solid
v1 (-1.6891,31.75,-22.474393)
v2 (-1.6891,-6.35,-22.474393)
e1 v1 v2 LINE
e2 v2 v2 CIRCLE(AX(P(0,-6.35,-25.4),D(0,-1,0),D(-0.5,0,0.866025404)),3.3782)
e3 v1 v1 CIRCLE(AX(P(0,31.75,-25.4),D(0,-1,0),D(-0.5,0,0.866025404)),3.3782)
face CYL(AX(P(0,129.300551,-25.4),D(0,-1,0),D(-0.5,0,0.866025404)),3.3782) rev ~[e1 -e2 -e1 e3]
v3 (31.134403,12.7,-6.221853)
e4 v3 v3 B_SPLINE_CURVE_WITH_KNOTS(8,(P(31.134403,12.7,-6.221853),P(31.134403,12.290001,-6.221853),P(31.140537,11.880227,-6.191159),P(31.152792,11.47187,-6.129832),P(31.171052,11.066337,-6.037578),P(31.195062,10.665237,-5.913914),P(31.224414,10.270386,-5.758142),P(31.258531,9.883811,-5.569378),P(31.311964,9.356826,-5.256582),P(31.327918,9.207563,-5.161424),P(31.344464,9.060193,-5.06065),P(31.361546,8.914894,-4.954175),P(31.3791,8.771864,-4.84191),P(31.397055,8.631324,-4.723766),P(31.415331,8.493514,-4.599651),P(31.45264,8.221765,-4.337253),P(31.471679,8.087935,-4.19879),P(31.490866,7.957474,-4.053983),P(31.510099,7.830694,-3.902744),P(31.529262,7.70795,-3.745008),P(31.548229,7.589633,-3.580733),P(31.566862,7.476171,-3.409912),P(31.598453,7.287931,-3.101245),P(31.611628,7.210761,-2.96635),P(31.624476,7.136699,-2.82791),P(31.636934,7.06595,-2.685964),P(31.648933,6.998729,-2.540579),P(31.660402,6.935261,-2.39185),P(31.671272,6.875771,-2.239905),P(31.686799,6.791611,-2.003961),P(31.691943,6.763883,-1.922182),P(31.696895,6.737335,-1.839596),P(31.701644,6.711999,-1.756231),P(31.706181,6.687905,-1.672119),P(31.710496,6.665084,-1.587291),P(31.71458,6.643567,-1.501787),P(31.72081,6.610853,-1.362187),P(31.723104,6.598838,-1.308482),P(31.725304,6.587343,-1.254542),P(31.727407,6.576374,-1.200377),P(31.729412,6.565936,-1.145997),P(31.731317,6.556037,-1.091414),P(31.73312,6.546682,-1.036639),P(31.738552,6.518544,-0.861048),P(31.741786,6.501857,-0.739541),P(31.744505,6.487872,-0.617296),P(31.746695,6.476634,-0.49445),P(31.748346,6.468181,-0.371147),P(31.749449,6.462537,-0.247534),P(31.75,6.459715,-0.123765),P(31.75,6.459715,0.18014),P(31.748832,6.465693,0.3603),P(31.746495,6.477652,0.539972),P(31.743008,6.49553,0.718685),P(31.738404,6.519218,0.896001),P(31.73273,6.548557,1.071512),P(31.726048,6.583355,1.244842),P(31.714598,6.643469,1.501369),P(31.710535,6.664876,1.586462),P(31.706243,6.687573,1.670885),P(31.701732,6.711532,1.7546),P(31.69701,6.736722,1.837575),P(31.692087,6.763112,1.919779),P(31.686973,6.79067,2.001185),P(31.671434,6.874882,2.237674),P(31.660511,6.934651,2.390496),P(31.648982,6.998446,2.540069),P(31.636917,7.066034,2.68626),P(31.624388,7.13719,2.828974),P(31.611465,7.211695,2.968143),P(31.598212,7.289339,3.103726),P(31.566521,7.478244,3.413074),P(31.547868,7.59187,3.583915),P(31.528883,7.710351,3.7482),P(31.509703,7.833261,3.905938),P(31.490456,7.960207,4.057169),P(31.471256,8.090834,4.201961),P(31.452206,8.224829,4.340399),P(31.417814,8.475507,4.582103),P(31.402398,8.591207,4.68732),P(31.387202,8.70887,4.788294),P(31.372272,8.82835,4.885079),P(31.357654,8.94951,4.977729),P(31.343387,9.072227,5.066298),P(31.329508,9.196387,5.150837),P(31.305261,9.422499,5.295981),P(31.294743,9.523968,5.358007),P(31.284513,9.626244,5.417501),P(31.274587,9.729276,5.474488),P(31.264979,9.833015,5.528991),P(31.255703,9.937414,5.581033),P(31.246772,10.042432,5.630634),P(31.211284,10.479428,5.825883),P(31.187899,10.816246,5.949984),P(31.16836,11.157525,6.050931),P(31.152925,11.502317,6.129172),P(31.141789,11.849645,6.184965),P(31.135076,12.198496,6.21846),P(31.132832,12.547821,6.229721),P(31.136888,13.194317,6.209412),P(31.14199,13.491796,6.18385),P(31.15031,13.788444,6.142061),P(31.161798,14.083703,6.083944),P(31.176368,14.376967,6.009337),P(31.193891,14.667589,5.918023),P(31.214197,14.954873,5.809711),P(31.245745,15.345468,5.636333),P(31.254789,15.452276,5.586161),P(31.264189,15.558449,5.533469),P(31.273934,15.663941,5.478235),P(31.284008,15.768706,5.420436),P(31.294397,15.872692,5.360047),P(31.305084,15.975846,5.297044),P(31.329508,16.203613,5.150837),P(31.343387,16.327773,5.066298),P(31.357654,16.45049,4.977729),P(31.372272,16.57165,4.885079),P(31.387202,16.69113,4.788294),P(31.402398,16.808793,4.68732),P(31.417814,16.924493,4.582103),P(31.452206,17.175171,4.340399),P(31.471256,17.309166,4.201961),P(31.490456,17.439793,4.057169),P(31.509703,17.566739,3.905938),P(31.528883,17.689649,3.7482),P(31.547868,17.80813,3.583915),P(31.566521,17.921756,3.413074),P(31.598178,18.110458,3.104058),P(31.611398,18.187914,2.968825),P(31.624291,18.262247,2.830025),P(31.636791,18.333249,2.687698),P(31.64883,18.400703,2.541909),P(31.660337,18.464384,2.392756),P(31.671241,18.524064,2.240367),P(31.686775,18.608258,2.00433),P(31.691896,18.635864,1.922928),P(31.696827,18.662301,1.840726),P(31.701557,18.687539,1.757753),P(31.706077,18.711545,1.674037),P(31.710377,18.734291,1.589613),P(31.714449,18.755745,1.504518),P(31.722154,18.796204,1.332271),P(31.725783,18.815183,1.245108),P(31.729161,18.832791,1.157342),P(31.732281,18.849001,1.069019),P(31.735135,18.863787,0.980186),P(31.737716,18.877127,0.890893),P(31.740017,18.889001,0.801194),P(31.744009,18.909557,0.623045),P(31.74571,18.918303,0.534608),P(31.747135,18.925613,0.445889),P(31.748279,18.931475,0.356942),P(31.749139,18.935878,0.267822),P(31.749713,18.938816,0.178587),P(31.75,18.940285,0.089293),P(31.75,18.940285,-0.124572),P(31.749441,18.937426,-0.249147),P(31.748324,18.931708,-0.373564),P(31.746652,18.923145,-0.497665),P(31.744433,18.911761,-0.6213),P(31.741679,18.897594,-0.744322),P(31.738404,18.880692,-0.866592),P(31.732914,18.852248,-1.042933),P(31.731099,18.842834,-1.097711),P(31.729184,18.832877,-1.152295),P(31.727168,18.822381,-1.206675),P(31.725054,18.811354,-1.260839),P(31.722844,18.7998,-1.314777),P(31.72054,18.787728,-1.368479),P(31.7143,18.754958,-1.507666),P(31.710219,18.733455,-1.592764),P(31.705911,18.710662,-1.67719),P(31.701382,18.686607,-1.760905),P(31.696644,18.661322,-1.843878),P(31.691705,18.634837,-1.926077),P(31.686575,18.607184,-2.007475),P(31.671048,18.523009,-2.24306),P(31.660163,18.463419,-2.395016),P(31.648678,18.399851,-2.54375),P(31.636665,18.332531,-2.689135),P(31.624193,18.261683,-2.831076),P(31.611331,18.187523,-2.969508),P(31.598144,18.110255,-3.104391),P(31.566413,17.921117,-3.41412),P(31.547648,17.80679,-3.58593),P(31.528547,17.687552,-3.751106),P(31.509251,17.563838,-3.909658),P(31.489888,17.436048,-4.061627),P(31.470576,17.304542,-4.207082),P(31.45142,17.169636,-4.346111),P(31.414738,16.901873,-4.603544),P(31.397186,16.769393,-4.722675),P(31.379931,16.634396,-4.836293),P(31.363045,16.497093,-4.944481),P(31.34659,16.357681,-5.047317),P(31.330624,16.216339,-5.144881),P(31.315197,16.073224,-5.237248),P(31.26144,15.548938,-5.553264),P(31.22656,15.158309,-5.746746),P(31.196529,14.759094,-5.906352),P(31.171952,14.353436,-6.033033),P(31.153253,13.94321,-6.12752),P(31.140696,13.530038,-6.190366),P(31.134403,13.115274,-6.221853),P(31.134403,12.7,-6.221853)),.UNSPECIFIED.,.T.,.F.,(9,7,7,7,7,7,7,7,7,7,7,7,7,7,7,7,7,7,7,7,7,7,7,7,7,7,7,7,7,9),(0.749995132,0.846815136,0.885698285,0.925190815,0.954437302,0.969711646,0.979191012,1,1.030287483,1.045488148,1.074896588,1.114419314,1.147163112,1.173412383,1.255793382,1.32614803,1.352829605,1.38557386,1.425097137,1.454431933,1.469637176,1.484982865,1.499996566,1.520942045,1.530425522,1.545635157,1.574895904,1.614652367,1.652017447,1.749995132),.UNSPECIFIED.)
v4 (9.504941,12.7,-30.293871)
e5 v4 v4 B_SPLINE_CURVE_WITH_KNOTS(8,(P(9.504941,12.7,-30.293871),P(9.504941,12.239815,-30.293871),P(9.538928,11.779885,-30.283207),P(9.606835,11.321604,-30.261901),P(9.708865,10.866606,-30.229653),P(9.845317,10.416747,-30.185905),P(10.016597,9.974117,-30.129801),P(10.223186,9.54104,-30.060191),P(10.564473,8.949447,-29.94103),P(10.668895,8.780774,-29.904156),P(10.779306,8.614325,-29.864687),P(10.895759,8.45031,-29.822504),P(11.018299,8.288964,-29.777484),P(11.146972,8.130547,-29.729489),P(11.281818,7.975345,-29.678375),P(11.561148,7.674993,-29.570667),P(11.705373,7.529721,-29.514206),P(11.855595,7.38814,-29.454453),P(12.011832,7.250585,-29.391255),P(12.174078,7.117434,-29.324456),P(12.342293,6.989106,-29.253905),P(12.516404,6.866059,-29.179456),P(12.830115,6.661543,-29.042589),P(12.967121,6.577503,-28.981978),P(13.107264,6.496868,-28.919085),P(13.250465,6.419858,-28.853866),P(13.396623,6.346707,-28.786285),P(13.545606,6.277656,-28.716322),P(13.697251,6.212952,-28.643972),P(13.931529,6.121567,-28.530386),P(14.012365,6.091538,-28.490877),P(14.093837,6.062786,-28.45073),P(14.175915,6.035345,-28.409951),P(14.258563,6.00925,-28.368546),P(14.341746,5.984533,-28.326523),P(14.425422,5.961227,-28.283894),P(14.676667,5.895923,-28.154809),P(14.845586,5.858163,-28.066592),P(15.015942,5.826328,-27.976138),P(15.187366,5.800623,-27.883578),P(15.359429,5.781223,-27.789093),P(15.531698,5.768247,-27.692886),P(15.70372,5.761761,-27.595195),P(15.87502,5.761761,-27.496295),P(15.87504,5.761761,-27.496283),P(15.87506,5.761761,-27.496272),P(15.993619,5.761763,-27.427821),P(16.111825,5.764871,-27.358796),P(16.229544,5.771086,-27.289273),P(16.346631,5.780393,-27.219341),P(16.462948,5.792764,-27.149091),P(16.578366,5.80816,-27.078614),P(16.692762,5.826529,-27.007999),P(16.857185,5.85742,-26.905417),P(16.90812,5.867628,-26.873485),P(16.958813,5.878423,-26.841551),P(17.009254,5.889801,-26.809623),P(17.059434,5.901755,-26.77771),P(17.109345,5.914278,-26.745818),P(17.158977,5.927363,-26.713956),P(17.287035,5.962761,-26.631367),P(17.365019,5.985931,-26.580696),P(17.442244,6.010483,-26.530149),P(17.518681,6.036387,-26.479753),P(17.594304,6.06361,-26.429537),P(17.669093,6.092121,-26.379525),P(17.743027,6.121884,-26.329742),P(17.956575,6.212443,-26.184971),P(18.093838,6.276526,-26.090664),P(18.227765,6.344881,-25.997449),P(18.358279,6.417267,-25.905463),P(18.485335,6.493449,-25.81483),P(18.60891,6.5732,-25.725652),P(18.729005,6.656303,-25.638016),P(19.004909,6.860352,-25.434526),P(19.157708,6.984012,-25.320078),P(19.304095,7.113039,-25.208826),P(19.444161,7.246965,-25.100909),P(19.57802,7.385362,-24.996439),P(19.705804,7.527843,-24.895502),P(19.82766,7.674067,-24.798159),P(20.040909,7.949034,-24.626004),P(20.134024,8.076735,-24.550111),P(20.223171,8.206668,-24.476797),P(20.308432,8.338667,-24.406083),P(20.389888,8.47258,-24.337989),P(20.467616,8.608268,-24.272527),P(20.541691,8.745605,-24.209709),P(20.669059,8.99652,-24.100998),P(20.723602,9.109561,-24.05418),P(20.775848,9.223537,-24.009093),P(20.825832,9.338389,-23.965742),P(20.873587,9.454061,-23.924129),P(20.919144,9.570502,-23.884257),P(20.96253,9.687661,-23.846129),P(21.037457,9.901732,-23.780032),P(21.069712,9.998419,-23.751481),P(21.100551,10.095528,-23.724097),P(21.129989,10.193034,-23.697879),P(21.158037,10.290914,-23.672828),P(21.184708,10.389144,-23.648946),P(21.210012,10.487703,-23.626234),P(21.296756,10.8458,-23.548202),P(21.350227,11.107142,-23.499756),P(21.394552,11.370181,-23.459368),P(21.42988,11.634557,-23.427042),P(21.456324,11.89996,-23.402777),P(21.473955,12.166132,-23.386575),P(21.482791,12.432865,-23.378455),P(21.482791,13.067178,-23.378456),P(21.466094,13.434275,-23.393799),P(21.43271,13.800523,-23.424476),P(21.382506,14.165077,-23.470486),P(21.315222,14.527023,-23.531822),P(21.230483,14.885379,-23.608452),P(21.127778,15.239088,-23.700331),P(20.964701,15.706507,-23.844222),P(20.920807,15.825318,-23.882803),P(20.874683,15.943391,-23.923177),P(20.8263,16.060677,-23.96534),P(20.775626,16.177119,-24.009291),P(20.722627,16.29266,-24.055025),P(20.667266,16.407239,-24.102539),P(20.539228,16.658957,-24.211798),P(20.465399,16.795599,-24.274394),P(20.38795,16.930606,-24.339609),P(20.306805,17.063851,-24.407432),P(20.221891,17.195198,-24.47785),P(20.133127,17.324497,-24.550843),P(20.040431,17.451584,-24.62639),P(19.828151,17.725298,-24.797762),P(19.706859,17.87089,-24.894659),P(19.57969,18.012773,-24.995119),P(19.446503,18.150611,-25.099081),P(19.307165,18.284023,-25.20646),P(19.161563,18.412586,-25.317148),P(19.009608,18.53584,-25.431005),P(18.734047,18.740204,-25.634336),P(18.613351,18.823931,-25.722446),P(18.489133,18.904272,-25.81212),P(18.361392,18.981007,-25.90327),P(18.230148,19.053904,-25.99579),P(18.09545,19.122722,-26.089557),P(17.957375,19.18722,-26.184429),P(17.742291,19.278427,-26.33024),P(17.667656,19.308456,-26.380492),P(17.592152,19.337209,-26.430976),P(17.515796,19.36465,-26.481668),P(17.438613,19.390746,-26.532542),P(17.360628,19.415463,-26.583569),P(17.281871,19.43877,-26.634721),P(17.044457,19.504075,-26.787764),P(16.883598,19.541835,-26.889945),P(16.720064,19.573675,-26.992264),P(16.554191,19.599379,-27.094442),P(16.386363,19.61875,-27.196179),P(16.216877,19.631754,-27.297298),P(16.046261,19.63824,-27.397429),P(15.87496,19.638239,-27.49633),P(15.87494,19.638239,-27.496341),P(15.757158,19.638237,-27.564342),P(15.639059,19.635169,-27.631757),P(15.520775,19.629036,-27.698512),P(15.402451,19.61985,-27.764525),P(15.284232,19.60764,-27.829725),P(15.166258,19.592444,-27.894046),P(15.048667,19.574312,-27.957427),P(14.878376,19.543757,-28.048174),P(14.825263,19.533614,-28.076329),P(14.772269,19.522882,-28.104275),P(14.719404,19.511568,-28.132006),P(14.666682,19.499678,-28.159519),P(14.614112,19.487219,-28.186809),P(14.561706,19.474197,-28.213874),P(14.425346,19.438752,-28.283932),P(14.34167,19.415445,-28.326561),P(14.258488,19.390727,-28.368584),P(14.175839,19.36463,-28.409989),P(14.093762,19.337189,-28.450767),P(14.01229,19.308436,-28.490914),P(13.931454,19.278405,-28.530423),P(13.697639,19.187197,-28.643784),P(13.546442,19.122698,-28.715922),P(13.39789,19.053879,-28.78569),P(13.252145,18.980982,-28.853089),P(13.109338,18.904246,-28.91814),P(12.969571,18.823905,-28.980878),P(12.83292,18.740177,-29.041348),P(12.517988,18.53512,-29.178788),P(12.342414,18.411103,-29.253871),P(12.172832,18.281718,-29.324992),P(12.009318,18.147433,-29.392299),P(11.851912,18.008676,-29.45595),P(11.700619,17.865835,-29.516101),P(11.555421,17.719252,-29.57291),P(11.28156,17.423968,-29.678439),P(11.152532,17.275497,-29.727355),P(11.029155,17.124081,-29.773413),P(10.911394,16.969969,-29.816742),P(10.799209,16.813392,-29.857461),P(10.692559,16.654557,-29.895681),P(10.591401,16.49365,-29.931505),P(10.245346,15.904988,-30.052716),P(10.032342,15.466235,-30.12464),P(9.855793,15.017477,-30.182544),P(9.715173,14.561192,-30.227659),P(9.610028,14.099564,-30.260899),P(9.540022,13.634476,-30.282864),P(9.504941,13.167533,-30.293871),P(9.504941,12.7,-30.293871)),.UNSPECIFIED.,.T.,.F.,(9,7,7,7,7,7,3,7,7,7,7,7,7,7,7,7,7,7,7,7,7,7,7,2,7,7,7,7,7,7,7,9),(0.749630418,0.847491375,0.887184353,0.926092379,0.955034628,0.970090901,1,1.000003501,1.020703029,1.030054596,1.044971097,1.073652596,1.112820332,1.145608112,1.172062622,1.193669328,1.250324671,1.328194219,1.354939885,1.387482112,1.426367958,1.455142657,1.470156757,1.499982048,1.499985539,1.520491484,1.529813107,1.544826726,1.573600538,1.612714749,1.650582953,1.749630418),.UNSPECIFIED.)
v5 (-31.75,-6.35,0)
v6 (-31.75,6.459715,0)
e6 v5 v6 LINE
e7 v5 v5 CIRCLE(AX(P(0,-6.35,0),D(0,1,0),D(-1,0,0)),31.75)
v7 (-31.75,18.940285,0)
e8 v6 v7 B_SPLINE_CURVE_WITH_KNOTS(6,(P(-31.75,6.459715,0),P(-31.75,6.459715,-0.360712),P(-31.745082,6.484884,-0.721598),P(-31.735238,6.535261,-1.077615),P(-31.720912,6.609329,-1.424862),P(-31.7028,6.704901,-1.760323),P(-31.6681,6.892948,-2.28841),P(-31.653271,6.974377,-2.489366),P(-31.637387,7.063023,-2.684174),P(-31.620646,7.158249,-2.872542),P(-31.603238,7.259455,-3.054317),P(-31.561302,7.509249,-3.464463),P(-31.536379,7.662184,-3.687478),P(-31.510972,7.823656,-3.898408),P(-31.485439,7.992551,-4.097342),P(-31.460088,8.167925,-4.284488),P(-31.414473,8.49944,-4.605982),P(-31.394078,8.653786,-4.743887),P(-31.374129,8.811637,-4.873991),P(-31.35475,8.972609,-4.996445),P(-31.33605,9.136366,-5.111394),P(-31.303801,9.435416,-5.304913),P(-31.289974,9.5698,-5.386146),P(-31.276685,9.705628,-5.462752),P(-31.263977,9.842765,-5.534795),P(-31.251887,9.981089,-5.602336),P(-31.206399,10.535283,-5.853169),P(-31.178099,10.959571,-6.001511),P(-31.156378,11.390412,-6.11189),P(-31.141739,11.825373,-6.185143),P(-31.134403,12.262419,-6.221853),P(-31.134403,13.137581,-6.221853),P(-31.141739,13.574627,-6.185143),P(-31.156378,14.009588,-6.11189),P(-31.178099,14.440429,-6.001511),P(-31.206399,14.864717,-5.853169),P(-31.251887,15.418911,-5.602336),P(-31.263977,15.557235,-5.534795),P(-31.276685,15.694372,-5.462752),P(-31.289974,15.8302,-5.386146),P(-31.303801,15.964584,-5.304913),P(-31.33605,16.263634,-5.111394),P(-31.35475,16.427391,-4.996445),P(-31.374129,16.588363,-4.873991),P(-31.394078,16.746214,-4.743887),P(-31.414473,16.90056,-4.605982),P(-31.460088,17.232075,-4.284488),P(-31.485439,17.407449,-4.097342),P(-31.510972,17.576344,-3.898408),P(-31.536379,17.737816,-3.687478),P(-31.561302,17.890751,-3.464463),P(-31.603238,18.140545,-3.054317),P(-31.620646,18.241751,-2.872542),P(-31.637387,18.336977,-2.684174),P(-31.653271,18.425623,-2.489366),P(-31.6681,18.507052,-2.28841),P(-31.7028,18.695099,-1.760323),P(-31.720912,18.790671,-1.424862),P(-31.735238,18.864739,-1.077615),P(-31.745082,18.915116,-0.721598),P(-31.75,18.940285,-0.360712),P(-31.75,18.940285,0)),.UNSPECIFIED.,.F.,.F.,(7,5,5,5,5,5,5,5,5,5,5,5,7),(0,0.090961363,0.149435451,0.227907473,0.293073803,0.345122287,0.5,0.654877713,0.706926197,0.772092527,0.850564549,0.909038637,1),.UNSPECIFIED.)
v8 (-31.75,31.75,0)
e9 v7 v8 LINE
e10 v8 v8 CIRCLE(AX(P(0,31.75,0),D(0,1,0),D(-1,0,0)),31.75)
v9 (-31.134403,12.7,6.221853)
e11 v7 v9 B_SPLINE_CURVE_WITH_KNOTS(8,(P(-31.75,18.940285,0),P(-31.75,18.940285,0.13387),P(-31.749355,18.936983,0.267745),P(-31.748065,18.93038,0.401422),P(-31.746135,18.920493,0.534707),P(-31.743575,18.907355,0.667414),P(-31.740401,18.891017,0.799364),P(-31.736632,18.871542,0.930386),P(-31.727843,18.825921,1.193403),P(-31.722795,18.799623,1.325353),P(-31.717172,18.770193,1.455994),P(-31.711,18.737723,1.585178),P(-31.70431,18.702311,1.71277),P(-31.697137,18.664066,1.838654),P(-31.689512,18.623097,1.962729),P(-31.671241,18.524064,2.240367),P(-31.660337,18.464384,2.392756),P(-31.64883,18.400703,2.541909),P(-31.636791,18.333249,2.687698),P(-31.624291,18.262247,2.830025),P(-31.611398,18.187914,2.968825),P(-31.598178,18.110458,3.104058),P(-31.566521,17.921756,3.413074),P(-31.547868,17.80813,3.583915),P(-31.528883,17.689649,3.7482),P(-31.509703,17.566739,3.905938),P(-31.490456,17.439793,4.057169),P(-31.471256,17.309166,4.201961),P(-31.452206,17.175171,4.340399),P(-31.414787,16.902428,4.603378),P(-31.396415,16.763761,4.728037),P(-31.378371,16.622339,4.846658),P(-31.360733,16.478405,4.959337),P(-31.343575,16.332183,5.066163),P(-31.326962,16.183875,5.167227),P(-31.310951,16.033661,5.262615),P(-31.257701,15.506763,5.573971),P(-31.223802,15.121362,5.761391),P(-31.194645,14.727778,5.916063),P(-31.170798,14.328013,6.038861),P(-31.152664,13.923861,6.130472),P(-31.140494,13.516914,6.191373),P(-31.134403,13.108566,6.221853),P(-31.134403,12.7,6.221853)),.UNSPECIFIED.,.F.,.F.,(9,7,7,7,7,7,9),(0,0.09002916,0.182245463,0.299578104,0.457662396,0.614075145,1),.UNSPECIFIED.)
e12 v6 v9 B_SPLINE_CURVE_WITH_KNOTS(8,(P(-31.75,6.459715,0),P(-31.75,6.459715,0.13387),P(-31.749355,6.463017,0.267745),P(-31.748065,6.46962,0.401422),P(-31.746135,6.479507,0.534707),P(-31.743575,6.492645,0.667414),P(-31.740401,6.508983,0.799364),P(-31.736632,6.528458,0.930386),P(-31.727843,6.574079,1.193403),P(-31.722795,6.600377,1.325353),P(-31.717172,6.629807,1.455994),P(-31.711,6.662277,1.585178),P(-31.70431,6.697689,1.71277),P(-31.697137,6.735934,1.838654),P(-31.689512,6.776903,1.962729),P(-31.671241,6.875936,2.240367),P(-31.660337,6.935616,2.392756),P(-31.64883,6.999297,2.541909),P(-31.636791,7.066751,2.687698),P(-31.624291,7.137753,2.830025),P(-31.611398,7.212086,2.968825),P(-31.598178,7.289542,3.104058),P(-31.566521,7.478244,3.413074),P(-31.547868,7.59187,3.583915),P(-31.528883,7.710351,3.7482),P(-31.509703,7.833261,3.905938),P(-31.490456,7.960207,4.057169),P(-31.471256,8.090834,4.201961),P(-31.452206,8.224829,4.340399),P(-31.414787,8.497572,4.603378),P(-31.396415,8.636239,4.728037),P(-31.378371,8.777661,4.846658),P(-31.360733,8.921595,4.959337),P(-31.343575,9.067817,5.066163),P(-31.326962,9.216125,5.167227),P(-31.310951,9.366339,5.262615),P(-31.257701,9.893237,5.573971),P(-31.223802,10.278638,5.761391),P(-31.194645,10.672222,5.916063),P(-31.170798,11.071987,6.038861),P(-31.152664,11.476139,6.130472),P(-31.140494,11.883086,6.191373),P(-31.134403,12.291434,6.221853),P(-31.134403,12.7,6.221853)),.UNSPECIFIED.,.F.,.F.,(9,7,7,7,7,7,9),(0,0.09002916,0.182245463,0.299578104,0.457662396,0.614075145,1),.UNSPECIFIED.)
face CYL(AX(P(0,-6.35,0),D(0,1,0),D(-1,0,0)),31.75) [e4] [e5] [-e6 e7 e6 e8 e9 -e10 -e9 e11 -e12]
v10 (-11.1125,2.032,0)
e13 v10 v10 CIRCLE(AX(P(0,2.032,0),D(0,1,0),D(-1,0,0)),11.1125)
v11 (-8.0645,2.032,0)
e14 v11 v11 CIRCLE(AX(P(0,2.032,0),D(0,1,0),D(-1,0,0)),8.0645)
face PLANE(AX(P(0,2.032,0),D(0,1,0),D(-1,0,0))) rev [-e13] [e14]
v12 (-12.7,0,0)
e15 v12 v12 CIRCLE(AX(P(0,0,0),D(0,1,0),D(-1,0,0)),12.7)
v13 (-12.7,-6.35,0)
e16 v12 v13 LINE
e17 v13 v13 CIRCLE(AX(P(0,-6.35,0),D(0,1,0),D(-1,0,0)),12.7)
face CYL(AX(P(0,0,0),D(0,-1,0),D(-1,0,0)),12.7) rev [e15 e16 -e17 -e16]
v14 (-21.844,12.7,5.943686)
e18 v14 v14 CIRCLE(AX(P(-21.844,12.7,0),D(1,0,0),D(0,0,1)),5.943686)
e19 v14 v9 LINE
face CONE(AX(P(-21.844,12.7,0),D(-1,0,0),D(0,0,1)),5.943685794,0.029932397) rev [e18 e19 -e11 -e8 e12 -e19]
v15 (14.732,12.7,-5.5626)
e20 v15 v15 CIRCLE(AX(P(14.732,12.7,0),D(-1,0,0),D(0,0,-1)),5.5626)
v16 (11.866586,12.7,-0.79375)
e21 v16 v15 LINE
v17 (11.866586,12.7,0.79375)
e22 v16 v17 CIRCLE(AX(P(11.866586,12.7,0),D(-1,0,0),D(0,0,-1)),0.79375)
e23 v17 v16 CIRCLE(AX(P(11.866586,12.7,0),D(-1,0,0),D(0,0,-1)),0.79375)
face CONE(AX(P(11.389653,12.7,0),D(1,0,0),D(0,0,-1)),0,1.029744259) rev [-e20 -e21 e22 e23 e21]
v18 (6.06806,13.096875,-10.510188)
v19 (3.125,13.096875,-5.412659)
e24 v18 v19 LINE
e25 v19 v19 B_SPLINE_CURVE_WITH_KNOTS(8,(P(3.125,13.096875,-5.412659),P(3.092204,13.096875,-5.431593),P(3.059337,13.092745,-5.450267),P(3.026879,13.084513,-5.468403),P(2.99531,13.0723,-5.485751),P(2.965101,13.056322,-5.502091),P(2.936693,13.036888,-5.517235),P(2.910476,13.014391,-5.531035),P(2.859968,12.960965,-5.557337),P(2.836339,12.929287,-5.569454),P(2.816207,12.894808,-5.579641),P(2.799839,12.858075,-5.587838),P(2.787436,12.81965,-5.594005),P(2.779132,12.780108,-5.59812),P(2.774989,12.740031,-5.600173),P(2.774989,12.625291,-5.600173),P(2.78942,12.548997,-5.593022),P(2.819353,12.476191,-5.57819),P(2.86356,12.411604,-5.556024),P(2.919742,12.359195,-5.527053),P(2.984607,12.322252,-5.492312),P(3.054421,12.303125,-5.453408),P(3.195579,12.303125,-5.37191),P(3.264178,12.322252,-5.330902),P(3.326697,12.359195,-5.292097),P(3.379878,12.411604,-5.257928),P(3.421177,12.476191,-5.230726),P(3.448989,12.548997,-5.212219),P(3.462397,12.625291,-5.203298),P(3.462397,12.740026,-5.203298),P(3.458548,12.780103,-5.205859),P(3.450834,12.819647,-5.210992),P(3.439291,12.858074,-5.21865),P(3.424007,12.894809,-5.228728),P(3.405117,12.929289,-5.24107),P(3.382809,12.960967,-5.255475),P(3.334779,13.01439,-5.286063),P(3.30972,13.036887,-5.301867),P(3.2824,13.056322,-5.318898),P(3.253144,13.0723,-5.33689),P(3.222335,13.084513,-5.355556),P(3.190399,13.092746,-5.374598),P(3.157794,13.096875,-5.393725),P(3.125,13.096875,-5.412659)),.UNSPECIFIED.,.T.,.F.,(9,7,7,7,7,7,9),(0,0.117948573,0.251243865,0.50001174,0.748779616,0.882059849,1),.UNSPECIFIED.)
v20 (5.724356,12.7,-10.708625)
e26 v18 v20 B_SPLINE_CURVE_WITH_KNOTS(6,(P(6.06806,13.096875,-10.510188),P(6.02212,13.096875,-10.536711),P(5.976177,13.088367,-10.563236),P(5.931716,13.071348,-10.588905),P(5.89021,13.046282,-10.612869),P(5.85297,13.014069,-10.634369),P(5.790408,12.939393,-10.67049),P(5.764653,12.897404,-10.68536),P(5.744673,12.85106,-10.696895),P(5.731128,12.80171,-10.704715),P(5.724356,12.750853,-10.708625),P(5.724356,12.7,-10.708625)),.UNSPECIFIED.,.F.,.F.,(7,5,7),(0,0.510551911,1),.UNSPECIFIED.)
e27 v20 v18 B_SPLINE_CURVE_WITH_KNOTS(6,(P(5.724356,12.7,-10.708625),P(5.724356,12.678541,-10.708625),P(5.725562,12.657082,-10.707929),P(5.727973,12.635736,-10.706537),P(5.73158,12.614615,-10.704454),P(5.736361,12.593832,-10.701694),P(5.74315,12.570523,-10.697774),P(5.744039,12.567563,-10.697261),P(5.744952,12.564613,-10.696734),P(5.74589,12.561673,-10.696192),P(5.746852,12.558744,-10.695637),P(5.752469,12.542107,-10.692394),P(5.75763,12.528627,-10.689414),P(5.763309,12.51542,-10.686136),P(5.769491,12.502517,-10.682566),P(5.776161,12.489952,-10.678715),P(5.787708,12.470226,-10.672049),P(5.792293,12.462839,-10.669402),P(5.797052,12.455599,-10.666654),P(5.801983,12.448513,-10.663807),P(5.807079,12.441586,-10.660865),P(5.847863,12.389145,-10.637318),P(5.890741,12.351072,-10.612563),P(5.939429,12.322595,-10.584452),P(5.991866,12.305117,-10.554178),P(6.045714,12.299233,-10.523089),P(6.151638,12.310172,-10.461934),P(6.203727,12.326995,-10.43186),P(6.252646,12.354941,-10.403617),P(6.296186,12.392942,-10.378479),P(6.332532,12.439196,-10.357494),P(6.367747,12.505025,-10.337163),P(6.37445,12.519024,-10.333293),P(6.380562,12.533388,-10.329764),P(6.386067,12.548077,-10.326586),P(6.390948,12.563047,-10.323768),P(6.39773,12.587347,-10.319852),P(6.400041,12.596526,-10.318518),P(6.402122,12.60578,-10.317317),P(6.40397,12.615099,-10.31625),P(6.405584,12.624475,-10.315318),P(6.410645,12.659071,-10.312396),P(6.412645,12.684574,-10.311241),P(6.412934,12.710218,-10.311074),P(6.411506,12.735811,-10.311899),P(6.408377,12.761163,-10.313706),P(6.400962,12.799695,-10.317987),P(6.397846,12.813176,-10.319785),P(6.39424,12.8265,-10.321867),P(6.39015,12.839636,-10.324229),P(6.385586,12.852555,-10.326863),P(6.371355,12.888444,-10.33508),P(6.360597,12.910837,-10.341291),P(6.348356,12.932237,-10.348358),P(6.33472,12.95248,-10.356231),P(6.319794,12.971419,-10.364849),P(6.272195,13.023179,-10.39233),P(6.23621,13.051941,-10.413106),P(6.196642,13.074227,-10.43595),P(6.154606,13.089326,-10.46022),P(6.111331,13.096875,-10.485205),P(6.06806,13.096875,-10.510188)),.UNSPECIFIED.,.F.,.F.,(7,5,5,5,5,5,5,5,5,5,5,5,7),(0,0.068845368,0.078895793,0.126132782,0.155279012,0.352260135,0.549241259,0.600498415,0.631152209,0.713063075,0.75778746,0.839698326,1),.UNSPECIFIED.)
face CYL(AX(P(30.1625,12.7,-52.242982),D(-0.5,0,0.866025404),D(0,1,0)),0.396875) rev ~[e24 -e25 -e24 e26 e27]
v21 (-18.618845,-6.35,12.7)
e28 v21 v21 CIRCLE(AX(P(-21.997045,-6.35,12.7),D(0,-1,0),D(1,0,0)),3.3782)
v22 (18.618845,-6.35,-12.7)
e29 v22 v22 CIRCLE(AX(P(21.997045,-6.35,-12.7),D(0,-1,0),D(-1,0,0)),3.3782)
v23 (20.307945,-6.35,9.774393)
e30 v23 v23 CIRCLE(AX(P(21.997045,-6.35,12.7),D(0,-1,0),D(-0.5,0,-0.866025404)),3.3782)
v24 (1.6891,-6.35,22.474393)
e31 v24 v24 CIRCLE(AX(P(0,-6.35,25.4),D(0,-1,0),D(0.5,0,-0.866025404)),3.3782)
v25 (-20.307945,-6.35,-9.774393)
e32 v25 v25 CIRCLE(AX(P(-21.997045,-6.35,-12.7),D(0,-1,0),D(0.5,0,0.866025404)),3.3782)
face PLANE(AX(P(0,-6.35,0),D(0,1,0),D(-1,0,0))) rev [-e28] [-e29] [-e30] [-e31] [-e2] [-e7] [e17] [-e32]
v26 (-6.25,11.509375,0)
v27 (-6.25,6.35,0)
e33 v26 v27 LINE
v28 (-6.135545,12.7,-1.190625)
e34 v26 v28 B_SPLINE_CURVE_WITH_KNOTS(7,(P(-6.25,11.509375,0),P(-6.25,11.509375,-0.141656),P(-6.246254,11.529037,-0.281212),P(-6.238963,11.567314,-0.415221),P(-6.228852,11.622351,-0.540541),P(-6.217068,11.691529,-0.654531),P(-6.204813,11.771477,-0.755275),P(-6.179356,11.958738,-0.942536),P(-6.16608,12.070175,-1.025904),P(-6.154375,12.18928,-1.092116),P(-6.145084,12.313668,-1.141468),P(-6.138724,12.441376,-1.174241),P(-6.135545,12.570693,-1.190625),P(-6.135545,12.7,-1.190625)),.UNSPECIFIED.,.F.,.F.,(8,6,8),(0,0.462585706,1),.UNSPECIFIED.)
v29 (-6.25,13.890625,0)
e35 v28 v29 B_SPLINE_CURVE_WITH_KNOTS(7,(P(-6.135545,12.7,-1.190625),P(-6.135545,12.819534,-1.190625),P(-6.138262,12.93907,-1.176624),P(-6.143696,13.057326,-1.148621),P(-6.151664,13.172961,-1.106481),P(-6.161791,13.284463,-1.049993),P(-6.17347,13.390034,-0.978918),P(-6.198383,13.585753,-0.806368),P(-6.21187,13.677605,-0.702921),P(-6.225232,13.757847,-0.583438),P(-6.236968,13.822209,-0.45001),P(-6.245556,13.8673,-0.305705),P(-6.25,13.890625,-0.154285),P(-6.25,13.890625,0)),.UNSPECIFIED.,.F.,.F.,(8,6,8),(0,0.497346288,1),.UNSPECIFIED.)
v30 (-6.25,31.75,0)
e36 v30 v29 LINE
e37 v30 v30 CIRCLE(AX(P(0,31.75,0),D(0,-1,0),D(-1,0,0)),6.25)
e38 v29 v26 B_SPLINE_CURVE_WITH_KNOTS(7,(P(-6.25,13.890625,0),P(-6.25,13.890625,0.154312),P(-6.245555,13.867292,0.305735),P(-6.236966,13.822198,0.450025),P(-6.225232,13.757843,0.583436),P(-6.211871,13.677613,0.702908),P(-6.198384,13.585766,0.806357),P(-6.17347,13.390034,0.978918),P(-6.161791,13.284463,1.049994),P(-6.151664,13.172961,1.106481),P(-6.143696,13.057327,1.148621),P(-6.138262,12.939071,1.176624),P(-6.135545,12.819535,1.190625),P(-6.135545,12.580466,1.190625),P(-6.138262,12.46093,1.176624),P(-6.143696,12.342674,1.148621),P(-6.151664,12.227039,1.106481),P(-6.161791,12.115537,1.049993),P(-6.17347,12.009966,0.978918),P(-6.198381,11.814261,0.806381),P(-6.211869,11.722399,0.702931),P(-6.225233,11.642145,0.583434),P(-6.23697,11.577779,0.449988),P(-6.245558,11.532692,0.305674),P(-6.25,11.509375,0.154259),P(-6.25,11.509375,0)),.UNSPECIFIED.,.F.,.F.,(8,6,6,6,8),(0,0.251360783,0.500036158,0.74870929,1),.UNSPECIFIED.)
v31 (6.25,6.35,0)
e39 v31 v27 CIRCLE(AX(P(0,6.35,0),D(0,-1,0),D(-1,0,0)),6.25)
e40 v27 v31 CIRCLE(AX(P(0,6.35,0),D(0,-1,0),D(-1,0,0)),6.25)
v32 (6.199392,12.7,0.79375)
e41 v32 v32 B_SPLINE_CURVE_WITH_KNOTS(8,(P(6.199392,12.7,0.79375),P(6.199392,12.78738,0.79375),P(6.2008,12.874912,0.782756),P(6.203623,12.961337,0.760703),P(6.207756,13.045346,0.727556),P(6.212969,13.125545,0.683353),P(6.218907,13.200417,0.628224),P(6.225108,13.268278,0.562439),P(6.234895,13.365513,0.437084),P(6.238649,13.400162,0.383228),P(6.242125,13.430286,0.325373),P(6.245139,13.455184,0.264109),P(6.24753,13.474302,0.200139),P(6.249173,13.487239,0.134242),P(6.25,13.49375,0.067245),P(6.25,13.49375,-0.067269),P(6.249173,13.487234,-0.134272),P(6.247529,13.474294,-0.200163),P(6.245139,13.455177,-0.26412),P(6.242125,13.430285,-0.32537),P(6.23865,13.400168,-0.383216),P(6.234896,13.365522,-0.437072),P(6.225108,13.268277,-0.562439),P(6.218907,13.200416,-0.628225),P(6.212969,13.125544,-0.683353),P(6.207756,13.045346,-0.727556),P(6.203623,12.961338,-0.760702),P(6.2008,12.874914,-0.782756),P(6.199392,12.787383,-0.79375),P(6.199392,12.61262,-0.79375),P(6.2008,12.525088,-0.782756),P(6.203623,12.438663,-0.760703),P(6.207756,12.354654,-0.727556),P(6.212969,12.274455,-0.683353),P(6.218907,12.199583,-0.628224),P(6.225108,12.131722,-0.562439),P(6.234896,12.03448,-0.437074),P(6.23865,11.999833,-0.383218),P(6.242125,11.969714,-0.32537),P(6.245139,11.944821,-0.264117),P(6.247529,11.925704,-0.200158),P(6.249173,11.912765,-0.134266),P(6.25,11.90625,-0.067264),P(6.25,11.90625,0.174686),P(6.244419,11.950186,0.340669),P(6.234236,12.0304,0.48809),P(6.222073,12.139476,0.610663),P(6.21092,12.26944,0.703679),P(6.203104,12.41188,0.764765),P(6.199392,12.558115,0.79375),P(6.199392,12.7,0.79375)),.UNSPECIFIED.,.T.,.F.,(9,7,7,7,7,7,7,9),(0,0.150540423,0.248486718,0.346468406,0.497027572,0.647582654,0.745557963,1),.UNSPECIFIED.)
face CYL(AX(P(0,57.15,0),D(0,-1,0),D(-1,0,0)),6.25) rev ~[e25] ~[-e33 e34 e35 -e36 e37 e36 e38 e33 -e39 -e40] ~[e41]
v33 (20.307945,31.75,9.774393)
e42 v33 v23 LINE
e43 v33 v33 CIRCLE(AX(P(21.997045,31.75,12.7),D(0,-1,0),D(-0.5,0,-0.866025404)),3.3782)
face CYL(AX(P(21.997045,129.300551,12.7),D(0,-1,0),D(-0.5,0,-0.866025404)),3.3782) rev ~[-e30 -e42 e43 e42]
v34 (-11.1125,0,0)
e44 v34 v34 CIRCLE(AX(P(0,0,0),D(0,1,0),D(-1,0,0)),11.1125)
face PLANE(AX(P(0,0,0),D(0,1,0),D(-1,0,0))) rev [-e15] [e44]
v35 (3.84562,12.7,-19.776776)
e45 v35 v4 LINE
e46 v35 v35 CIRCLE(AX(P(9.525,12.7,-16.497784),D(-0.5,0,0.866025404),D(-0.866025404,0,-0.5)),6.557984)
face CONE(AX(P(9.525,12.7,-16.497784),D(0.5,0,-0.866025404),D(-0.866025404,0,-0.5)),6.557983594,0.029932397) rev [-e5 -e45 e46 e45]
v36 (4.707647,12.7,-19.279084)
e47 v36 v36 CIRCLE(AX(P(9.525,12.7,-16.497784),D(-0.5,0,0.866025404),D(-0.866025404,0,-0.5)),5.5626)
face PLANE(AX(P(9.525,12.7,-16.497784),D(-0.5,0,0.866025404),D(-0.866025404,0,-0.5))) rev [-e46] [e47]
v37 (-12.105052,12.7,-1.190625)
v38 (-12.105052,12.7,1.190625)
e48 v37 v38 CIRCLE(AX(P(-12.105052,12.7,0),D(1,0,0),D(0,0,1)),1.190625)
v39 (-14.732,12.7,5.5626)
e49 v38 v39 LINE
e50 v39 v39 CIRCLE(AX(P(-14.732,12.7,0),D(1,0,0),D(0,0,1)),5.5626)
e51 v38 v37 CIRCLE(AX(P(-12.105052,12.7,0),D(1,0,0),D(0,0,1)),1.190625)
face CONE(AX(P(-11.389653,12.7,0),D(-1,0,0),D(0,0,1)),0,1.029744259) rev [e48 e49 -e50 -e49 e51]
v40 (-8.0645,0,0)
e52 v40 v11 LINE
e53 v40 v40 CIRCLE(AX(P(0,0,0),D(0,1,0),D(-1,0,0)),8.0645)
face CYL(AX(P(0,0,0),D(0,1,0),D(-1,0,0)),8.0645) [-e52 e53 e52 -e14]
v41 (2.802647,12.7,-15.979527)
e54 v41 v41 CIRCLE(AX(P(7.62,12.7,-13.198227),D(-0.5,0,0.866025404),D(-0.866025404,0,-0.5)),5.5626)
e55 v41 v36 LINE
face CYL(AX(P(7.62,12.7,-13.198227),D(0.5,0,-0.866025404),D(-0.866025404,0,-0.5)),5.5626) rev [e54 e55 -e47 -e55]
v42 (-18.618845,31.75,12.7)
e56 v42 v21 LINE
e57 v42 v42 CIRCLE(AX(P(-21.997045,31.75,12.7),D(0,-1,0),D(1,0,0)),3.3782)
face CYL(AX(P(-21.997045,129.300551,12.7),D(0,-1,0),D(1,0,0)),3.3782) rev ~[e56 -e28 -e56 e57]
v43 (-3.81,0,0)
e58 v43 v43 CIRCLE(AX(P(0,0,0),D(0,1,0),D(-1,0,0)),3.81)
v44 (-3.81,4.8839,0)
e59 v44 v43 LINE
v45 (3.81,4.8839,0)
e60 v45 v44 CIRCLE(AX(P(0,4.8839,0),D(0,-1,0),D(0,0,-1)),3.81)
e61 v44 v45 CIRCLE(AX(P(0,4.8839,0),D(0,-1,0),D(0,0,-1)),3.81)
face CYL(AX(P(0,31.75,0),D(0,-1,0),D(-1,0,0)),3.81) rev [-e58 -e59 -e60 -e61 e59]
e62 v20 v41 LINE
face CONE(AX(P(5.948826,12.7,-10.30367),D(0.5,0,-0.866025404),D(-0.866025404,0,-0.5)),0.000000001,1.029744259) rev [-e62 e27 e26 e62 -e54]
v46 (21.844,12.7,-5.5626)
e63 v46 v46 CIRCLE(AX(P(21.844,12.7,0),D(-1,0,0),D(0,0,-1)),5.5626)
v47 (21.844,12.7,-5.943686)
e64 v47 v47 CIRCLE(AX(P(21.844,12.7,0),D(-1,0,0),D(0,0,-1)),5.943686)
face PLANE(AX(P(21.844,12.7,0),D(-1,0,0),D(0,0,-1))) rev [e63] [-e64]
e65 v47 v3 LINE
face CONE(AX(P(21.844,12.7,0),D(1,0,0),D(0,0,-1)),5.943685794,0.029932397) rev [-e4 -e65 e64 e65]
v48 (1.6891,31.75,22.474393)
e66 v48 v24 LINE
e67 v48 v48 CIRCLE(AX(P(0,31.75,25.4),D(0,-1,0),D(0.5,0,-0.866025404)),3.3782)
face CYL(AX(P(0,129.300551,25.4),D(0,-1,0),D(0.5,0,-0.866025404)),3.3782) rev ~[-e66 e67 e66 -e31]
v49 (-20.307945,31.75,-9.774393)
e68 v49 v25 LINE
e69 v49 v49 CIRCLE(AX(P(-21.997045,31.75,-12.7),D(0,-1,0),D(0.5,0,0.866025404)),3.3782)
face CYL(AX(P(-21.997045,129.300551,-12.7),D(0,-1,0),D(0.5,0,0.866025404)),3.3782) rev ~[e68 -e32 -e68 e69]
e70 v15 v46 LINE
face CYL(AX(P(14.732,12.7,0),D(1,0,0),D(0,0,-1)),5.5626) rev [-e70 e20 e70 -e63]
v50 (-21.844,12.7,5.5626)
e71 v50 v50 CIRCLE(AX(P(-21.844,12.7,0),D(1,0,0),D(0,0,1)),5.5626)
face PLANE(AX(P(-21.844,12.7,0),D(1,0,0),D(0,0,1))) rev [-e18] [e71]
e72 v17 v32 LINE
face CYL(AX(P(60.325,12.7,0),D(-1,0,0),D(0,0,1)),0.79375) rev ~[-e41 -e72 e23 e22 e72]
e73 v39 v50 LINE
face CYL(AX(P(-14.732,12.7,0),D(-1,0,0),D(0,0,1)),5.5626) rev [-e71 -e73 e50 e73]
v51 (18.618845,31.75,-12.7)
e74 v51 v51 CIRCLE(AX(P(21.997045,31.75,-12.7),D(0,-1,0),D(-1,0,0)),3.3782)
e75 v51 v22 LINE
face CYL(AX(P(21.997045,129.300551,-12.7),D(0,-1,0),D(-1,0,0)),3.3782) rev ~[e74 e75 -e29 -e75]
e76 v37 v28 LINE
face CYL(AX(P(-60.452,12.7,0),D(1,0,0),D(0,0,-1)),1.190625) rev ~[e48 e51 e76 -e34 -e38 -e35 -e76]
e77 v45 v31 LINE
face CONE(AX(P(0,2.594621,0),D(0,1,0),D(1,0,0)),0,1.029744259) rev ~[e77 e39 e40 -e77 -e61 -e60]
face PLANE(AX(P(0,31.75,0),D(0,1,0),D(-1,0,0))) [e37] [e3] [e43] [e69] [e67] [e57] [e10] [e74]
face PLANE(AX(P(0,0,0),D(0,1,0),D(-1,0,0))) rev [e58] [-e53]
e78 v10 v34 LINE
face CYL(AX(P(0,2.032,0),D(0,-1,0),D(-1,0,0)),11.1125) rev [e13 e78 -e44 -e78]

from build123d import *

# Parameters (mm, degrees)
M14X1_5_TAPPED_HOLE1_D              = 12.5
M14X1_5_TAPPED_HOLE1_DEPTH          = 25.4
M14X1_5_TAPPED_HOLE1_TIP            = 3.755378869
F_1_16_0_0625_DIAMETER_HOLE1_D      = 1.5875
F_1_16_0_0625_DIAMETER_HOLE1_DEPTH  = 28.575
F_1_16_0_0625_DIAMETER_HOLE1_TIP    = 0.476933116
F_3_32_0_09375_DIAMETER_HOLE1_D     = 2.38125
F_3_32_0_09375_DIAMETER_HOLE1_DEPTH = 28.702
F_3_32_0_09375_DIAMETER_HOLE1_TIP   = 0.715399675
F_1_4_CLEARANCE_HOLE1_D             = 6.7564
CIRPATTERN1_COUNT                   = 6
F_1_32_0_03125_DIAMETER_HOLE1_D     = 0.79375
F_1_32_0_03125_DIAMETER_HOLE1_DEPTH = 28.575
F_1_32_0_03125_DIAMETER_HOLE1_TIP   = 0.238466558


with BuildPart() as part:
    # Sketch1 → Revolve1 (revolve)
    with BuildSketch(Plane.XY):
        Polygon((-3.81, 0), (-8.0645, 0), (-8.0645, 2.032), (-11.1125, 2.032), (-11.1125, 0), (-12.7, 0), (-12.7, -6.35), (-31.75, -6.35), (-31.75, 31.75), (-3.81, 31.75), align=None)
    revolve(axis=Axis((0, 0, 0), (0, 1, 0)))

    # M14x1.5 Tapped Hole1
    with Locations(Plane(origin=(0, 31.75, 0), x_dir=(1, 0, 0), z_dir=(0, 1, 0))):
        with Locations((0, 0)):
            Hole(M14X1_5_TAPPED_HOLE1_D / 2, depth=M14X1_5_TAPPED_HOLE1_DEPTH)
            with Locations((0, 0, -(M14X1_5_TAPPED_HOLE1_DEPTH + M14X1_5_TAPPED_HOLE1_TIP / 2))):  # 118° drill point
                Cone(0, M14X1_5_TAPPED_HOLE1_D / 2, M14X1_5_TAPPED_HOLE1_TIP, mode=Mode.SUBTRACT)

    # Sketch6 → 1/4 NPT Tapped Hole1 (revolve, cut)
    with BuildSketch(Plane(origin=(31.75, 12.7, 0), x_dir=(0, 0, -1), z_dir=(0, 1, 0))):
        Polygon((0, 0), (0, 20.360347279), (5.5626, 17.018), (5.5626, 9.906), (5.943685794, 9.906), (6.2402847, 0), align=None)
    revolve(axis=Axis((38.1, 12.7, 0), (-1, 0, 0)), mode=Mode.SUBTRACT)

    # Sketch8 → 1/4 NPT Tapped Hole2 (revolve, cut)
    with BuildSketch(Plane(origin=(-31.75, 12.7, 0), x_dir=(0, 0, 1), z_dir=(0, 1, 0))):
        Polygon((0, 0), (0, 20.360347279), (5.5626, 17.018), (5.5626, 9.906), (5.943685794, 9.906), (6.2402847, 0), align=None)
    revolve(axis=Axis((-38.1, 12.7, 0), (1, 0, 0)), mode=Mode.SUBTRACT)

    # 1/16 (0.0625) Diameter Hole1
    with Locations(Plane(origin=(31.75, 0, 0), x_dir=(0, 0, -1), z_dir=(1, 0, 0))):
        with Locations((0, 12.7)):
            Hole(F_1_16_0_0625_DIAMETER_HOLE1_D / 2, depth=F_1_16_0_0625_DIAMETER_HOLE1_DEPTH)
            with Locations((0, 0, -(F_1_16_0_0625_DIAMETER_HOLE1_DEPTH + F_1_16_0_0625_DIAMETER_HOLE1_TIP / 2))):  # 118° drill point
                Cone(0, F_1_16_0_0625_DIAMETER_HOLE1_D / 2, F_1_16_0_0625_DIAMETER_HOLE1_TIP, mode=Mode.SUBTRACT)

    # 3/32 (0.09375) Diameter Hole1
    with Locations(Plane.ZY.offset(31.75)):
        with Locations((0, 12.7)):
            Hole(F_3_32_0_09375_DIAMETER_HOLE1_D / 2, depth=F_3_32_0_09375_DIAMETER_HOLE1_DEPTH)
            with Locations((0, 0, -(F_3_32_0_09375_DIAMETER_HOLE1_DEPTH + F_3_32_0_09375_DIAMETER_HOLE1_TIP / 2))):  # 118° drill point
                Cone(0, F_3_32_0_09375_DIAMETER_HOLE1_D / 2, F_3_32_0_09375_DIAMETER_HOLE1_TIP, mode=Mode.SUBTRACT)

    # 1/4 Clearance Hole1 (through all)
    with Locations(Plane(origin=(0, 31.75, 0), x_dir=(1, 0, 0), z_dir=(0, 1, 0))):
        with Locations((21.997045256, 12.7)):
            f_1_4_clearance_hole1 = Hole(F_1_4_CLEARANCE_HOLE1_D / 2)

    # CirPattern1: 1/4 Clearance Hole1 ×6 about axis
    cirpattern1_axis = Axis((0, 0, 0), (0, 1, 0))
    for i in range(1, CIRPATTERN1_COUNT):
        add(f_1_4_clearance_hole1.rotate(cirpattern1_axis, i * 360 / CIRPATTERN1_COUNT), mode=Mode.SUBTRACT)

    # Sketch18 → 1/4 NPT Tapped Hole3 (revolve, cut)
    with BuildSketch(Plane(origin=(15.875, 12.7, -27.49630657), x_dir=(-0.866025404, 0, -0.5), z_dir=(0, 1, 0))):
        Polygon((0, 0), (0, 19.852347279), (5.5626, 16.51), (5.5626, 12.7), (6.557983593, 12.7), (6.9382386, 0), align=None)
    revolve(axis=Axis((19.05, 12.7, -32.995567884), (-0.5, 0, 0.866025404)), mode=Mode.SUBTRACT)

    # 1/32 (0.03125) Diameter Hole1
    with Locations(Plane(origin=(15.875, 0, -27.49630657), x_dir=(0, -1, 0), z_dir=(0.5, 0, -0.866025404))):
        with Locations((-12.7, 0)):
            Hole(F_1_32_0_03125_DIAMETER_HOLE1_D / 2, depth=F_1_32_0_03125_DIAMETER_HOLE1_DEPTH)
            with Locations((0, 0, -(F_1_32_0_03125_DIAMETER_HOLE1_DEPTH + F_1_32_0_03125_DIAMETER_HOLE1_TIP / 2))):  # 118° drill point
                Cone(0, F_1_32_0_03125_DIAMETER_HOLE1_D / 2, F_1_32_0_03125_DIAMETER_HOLE1_TIP, mode=Mode.SUBTRACT)


solid = part.part
